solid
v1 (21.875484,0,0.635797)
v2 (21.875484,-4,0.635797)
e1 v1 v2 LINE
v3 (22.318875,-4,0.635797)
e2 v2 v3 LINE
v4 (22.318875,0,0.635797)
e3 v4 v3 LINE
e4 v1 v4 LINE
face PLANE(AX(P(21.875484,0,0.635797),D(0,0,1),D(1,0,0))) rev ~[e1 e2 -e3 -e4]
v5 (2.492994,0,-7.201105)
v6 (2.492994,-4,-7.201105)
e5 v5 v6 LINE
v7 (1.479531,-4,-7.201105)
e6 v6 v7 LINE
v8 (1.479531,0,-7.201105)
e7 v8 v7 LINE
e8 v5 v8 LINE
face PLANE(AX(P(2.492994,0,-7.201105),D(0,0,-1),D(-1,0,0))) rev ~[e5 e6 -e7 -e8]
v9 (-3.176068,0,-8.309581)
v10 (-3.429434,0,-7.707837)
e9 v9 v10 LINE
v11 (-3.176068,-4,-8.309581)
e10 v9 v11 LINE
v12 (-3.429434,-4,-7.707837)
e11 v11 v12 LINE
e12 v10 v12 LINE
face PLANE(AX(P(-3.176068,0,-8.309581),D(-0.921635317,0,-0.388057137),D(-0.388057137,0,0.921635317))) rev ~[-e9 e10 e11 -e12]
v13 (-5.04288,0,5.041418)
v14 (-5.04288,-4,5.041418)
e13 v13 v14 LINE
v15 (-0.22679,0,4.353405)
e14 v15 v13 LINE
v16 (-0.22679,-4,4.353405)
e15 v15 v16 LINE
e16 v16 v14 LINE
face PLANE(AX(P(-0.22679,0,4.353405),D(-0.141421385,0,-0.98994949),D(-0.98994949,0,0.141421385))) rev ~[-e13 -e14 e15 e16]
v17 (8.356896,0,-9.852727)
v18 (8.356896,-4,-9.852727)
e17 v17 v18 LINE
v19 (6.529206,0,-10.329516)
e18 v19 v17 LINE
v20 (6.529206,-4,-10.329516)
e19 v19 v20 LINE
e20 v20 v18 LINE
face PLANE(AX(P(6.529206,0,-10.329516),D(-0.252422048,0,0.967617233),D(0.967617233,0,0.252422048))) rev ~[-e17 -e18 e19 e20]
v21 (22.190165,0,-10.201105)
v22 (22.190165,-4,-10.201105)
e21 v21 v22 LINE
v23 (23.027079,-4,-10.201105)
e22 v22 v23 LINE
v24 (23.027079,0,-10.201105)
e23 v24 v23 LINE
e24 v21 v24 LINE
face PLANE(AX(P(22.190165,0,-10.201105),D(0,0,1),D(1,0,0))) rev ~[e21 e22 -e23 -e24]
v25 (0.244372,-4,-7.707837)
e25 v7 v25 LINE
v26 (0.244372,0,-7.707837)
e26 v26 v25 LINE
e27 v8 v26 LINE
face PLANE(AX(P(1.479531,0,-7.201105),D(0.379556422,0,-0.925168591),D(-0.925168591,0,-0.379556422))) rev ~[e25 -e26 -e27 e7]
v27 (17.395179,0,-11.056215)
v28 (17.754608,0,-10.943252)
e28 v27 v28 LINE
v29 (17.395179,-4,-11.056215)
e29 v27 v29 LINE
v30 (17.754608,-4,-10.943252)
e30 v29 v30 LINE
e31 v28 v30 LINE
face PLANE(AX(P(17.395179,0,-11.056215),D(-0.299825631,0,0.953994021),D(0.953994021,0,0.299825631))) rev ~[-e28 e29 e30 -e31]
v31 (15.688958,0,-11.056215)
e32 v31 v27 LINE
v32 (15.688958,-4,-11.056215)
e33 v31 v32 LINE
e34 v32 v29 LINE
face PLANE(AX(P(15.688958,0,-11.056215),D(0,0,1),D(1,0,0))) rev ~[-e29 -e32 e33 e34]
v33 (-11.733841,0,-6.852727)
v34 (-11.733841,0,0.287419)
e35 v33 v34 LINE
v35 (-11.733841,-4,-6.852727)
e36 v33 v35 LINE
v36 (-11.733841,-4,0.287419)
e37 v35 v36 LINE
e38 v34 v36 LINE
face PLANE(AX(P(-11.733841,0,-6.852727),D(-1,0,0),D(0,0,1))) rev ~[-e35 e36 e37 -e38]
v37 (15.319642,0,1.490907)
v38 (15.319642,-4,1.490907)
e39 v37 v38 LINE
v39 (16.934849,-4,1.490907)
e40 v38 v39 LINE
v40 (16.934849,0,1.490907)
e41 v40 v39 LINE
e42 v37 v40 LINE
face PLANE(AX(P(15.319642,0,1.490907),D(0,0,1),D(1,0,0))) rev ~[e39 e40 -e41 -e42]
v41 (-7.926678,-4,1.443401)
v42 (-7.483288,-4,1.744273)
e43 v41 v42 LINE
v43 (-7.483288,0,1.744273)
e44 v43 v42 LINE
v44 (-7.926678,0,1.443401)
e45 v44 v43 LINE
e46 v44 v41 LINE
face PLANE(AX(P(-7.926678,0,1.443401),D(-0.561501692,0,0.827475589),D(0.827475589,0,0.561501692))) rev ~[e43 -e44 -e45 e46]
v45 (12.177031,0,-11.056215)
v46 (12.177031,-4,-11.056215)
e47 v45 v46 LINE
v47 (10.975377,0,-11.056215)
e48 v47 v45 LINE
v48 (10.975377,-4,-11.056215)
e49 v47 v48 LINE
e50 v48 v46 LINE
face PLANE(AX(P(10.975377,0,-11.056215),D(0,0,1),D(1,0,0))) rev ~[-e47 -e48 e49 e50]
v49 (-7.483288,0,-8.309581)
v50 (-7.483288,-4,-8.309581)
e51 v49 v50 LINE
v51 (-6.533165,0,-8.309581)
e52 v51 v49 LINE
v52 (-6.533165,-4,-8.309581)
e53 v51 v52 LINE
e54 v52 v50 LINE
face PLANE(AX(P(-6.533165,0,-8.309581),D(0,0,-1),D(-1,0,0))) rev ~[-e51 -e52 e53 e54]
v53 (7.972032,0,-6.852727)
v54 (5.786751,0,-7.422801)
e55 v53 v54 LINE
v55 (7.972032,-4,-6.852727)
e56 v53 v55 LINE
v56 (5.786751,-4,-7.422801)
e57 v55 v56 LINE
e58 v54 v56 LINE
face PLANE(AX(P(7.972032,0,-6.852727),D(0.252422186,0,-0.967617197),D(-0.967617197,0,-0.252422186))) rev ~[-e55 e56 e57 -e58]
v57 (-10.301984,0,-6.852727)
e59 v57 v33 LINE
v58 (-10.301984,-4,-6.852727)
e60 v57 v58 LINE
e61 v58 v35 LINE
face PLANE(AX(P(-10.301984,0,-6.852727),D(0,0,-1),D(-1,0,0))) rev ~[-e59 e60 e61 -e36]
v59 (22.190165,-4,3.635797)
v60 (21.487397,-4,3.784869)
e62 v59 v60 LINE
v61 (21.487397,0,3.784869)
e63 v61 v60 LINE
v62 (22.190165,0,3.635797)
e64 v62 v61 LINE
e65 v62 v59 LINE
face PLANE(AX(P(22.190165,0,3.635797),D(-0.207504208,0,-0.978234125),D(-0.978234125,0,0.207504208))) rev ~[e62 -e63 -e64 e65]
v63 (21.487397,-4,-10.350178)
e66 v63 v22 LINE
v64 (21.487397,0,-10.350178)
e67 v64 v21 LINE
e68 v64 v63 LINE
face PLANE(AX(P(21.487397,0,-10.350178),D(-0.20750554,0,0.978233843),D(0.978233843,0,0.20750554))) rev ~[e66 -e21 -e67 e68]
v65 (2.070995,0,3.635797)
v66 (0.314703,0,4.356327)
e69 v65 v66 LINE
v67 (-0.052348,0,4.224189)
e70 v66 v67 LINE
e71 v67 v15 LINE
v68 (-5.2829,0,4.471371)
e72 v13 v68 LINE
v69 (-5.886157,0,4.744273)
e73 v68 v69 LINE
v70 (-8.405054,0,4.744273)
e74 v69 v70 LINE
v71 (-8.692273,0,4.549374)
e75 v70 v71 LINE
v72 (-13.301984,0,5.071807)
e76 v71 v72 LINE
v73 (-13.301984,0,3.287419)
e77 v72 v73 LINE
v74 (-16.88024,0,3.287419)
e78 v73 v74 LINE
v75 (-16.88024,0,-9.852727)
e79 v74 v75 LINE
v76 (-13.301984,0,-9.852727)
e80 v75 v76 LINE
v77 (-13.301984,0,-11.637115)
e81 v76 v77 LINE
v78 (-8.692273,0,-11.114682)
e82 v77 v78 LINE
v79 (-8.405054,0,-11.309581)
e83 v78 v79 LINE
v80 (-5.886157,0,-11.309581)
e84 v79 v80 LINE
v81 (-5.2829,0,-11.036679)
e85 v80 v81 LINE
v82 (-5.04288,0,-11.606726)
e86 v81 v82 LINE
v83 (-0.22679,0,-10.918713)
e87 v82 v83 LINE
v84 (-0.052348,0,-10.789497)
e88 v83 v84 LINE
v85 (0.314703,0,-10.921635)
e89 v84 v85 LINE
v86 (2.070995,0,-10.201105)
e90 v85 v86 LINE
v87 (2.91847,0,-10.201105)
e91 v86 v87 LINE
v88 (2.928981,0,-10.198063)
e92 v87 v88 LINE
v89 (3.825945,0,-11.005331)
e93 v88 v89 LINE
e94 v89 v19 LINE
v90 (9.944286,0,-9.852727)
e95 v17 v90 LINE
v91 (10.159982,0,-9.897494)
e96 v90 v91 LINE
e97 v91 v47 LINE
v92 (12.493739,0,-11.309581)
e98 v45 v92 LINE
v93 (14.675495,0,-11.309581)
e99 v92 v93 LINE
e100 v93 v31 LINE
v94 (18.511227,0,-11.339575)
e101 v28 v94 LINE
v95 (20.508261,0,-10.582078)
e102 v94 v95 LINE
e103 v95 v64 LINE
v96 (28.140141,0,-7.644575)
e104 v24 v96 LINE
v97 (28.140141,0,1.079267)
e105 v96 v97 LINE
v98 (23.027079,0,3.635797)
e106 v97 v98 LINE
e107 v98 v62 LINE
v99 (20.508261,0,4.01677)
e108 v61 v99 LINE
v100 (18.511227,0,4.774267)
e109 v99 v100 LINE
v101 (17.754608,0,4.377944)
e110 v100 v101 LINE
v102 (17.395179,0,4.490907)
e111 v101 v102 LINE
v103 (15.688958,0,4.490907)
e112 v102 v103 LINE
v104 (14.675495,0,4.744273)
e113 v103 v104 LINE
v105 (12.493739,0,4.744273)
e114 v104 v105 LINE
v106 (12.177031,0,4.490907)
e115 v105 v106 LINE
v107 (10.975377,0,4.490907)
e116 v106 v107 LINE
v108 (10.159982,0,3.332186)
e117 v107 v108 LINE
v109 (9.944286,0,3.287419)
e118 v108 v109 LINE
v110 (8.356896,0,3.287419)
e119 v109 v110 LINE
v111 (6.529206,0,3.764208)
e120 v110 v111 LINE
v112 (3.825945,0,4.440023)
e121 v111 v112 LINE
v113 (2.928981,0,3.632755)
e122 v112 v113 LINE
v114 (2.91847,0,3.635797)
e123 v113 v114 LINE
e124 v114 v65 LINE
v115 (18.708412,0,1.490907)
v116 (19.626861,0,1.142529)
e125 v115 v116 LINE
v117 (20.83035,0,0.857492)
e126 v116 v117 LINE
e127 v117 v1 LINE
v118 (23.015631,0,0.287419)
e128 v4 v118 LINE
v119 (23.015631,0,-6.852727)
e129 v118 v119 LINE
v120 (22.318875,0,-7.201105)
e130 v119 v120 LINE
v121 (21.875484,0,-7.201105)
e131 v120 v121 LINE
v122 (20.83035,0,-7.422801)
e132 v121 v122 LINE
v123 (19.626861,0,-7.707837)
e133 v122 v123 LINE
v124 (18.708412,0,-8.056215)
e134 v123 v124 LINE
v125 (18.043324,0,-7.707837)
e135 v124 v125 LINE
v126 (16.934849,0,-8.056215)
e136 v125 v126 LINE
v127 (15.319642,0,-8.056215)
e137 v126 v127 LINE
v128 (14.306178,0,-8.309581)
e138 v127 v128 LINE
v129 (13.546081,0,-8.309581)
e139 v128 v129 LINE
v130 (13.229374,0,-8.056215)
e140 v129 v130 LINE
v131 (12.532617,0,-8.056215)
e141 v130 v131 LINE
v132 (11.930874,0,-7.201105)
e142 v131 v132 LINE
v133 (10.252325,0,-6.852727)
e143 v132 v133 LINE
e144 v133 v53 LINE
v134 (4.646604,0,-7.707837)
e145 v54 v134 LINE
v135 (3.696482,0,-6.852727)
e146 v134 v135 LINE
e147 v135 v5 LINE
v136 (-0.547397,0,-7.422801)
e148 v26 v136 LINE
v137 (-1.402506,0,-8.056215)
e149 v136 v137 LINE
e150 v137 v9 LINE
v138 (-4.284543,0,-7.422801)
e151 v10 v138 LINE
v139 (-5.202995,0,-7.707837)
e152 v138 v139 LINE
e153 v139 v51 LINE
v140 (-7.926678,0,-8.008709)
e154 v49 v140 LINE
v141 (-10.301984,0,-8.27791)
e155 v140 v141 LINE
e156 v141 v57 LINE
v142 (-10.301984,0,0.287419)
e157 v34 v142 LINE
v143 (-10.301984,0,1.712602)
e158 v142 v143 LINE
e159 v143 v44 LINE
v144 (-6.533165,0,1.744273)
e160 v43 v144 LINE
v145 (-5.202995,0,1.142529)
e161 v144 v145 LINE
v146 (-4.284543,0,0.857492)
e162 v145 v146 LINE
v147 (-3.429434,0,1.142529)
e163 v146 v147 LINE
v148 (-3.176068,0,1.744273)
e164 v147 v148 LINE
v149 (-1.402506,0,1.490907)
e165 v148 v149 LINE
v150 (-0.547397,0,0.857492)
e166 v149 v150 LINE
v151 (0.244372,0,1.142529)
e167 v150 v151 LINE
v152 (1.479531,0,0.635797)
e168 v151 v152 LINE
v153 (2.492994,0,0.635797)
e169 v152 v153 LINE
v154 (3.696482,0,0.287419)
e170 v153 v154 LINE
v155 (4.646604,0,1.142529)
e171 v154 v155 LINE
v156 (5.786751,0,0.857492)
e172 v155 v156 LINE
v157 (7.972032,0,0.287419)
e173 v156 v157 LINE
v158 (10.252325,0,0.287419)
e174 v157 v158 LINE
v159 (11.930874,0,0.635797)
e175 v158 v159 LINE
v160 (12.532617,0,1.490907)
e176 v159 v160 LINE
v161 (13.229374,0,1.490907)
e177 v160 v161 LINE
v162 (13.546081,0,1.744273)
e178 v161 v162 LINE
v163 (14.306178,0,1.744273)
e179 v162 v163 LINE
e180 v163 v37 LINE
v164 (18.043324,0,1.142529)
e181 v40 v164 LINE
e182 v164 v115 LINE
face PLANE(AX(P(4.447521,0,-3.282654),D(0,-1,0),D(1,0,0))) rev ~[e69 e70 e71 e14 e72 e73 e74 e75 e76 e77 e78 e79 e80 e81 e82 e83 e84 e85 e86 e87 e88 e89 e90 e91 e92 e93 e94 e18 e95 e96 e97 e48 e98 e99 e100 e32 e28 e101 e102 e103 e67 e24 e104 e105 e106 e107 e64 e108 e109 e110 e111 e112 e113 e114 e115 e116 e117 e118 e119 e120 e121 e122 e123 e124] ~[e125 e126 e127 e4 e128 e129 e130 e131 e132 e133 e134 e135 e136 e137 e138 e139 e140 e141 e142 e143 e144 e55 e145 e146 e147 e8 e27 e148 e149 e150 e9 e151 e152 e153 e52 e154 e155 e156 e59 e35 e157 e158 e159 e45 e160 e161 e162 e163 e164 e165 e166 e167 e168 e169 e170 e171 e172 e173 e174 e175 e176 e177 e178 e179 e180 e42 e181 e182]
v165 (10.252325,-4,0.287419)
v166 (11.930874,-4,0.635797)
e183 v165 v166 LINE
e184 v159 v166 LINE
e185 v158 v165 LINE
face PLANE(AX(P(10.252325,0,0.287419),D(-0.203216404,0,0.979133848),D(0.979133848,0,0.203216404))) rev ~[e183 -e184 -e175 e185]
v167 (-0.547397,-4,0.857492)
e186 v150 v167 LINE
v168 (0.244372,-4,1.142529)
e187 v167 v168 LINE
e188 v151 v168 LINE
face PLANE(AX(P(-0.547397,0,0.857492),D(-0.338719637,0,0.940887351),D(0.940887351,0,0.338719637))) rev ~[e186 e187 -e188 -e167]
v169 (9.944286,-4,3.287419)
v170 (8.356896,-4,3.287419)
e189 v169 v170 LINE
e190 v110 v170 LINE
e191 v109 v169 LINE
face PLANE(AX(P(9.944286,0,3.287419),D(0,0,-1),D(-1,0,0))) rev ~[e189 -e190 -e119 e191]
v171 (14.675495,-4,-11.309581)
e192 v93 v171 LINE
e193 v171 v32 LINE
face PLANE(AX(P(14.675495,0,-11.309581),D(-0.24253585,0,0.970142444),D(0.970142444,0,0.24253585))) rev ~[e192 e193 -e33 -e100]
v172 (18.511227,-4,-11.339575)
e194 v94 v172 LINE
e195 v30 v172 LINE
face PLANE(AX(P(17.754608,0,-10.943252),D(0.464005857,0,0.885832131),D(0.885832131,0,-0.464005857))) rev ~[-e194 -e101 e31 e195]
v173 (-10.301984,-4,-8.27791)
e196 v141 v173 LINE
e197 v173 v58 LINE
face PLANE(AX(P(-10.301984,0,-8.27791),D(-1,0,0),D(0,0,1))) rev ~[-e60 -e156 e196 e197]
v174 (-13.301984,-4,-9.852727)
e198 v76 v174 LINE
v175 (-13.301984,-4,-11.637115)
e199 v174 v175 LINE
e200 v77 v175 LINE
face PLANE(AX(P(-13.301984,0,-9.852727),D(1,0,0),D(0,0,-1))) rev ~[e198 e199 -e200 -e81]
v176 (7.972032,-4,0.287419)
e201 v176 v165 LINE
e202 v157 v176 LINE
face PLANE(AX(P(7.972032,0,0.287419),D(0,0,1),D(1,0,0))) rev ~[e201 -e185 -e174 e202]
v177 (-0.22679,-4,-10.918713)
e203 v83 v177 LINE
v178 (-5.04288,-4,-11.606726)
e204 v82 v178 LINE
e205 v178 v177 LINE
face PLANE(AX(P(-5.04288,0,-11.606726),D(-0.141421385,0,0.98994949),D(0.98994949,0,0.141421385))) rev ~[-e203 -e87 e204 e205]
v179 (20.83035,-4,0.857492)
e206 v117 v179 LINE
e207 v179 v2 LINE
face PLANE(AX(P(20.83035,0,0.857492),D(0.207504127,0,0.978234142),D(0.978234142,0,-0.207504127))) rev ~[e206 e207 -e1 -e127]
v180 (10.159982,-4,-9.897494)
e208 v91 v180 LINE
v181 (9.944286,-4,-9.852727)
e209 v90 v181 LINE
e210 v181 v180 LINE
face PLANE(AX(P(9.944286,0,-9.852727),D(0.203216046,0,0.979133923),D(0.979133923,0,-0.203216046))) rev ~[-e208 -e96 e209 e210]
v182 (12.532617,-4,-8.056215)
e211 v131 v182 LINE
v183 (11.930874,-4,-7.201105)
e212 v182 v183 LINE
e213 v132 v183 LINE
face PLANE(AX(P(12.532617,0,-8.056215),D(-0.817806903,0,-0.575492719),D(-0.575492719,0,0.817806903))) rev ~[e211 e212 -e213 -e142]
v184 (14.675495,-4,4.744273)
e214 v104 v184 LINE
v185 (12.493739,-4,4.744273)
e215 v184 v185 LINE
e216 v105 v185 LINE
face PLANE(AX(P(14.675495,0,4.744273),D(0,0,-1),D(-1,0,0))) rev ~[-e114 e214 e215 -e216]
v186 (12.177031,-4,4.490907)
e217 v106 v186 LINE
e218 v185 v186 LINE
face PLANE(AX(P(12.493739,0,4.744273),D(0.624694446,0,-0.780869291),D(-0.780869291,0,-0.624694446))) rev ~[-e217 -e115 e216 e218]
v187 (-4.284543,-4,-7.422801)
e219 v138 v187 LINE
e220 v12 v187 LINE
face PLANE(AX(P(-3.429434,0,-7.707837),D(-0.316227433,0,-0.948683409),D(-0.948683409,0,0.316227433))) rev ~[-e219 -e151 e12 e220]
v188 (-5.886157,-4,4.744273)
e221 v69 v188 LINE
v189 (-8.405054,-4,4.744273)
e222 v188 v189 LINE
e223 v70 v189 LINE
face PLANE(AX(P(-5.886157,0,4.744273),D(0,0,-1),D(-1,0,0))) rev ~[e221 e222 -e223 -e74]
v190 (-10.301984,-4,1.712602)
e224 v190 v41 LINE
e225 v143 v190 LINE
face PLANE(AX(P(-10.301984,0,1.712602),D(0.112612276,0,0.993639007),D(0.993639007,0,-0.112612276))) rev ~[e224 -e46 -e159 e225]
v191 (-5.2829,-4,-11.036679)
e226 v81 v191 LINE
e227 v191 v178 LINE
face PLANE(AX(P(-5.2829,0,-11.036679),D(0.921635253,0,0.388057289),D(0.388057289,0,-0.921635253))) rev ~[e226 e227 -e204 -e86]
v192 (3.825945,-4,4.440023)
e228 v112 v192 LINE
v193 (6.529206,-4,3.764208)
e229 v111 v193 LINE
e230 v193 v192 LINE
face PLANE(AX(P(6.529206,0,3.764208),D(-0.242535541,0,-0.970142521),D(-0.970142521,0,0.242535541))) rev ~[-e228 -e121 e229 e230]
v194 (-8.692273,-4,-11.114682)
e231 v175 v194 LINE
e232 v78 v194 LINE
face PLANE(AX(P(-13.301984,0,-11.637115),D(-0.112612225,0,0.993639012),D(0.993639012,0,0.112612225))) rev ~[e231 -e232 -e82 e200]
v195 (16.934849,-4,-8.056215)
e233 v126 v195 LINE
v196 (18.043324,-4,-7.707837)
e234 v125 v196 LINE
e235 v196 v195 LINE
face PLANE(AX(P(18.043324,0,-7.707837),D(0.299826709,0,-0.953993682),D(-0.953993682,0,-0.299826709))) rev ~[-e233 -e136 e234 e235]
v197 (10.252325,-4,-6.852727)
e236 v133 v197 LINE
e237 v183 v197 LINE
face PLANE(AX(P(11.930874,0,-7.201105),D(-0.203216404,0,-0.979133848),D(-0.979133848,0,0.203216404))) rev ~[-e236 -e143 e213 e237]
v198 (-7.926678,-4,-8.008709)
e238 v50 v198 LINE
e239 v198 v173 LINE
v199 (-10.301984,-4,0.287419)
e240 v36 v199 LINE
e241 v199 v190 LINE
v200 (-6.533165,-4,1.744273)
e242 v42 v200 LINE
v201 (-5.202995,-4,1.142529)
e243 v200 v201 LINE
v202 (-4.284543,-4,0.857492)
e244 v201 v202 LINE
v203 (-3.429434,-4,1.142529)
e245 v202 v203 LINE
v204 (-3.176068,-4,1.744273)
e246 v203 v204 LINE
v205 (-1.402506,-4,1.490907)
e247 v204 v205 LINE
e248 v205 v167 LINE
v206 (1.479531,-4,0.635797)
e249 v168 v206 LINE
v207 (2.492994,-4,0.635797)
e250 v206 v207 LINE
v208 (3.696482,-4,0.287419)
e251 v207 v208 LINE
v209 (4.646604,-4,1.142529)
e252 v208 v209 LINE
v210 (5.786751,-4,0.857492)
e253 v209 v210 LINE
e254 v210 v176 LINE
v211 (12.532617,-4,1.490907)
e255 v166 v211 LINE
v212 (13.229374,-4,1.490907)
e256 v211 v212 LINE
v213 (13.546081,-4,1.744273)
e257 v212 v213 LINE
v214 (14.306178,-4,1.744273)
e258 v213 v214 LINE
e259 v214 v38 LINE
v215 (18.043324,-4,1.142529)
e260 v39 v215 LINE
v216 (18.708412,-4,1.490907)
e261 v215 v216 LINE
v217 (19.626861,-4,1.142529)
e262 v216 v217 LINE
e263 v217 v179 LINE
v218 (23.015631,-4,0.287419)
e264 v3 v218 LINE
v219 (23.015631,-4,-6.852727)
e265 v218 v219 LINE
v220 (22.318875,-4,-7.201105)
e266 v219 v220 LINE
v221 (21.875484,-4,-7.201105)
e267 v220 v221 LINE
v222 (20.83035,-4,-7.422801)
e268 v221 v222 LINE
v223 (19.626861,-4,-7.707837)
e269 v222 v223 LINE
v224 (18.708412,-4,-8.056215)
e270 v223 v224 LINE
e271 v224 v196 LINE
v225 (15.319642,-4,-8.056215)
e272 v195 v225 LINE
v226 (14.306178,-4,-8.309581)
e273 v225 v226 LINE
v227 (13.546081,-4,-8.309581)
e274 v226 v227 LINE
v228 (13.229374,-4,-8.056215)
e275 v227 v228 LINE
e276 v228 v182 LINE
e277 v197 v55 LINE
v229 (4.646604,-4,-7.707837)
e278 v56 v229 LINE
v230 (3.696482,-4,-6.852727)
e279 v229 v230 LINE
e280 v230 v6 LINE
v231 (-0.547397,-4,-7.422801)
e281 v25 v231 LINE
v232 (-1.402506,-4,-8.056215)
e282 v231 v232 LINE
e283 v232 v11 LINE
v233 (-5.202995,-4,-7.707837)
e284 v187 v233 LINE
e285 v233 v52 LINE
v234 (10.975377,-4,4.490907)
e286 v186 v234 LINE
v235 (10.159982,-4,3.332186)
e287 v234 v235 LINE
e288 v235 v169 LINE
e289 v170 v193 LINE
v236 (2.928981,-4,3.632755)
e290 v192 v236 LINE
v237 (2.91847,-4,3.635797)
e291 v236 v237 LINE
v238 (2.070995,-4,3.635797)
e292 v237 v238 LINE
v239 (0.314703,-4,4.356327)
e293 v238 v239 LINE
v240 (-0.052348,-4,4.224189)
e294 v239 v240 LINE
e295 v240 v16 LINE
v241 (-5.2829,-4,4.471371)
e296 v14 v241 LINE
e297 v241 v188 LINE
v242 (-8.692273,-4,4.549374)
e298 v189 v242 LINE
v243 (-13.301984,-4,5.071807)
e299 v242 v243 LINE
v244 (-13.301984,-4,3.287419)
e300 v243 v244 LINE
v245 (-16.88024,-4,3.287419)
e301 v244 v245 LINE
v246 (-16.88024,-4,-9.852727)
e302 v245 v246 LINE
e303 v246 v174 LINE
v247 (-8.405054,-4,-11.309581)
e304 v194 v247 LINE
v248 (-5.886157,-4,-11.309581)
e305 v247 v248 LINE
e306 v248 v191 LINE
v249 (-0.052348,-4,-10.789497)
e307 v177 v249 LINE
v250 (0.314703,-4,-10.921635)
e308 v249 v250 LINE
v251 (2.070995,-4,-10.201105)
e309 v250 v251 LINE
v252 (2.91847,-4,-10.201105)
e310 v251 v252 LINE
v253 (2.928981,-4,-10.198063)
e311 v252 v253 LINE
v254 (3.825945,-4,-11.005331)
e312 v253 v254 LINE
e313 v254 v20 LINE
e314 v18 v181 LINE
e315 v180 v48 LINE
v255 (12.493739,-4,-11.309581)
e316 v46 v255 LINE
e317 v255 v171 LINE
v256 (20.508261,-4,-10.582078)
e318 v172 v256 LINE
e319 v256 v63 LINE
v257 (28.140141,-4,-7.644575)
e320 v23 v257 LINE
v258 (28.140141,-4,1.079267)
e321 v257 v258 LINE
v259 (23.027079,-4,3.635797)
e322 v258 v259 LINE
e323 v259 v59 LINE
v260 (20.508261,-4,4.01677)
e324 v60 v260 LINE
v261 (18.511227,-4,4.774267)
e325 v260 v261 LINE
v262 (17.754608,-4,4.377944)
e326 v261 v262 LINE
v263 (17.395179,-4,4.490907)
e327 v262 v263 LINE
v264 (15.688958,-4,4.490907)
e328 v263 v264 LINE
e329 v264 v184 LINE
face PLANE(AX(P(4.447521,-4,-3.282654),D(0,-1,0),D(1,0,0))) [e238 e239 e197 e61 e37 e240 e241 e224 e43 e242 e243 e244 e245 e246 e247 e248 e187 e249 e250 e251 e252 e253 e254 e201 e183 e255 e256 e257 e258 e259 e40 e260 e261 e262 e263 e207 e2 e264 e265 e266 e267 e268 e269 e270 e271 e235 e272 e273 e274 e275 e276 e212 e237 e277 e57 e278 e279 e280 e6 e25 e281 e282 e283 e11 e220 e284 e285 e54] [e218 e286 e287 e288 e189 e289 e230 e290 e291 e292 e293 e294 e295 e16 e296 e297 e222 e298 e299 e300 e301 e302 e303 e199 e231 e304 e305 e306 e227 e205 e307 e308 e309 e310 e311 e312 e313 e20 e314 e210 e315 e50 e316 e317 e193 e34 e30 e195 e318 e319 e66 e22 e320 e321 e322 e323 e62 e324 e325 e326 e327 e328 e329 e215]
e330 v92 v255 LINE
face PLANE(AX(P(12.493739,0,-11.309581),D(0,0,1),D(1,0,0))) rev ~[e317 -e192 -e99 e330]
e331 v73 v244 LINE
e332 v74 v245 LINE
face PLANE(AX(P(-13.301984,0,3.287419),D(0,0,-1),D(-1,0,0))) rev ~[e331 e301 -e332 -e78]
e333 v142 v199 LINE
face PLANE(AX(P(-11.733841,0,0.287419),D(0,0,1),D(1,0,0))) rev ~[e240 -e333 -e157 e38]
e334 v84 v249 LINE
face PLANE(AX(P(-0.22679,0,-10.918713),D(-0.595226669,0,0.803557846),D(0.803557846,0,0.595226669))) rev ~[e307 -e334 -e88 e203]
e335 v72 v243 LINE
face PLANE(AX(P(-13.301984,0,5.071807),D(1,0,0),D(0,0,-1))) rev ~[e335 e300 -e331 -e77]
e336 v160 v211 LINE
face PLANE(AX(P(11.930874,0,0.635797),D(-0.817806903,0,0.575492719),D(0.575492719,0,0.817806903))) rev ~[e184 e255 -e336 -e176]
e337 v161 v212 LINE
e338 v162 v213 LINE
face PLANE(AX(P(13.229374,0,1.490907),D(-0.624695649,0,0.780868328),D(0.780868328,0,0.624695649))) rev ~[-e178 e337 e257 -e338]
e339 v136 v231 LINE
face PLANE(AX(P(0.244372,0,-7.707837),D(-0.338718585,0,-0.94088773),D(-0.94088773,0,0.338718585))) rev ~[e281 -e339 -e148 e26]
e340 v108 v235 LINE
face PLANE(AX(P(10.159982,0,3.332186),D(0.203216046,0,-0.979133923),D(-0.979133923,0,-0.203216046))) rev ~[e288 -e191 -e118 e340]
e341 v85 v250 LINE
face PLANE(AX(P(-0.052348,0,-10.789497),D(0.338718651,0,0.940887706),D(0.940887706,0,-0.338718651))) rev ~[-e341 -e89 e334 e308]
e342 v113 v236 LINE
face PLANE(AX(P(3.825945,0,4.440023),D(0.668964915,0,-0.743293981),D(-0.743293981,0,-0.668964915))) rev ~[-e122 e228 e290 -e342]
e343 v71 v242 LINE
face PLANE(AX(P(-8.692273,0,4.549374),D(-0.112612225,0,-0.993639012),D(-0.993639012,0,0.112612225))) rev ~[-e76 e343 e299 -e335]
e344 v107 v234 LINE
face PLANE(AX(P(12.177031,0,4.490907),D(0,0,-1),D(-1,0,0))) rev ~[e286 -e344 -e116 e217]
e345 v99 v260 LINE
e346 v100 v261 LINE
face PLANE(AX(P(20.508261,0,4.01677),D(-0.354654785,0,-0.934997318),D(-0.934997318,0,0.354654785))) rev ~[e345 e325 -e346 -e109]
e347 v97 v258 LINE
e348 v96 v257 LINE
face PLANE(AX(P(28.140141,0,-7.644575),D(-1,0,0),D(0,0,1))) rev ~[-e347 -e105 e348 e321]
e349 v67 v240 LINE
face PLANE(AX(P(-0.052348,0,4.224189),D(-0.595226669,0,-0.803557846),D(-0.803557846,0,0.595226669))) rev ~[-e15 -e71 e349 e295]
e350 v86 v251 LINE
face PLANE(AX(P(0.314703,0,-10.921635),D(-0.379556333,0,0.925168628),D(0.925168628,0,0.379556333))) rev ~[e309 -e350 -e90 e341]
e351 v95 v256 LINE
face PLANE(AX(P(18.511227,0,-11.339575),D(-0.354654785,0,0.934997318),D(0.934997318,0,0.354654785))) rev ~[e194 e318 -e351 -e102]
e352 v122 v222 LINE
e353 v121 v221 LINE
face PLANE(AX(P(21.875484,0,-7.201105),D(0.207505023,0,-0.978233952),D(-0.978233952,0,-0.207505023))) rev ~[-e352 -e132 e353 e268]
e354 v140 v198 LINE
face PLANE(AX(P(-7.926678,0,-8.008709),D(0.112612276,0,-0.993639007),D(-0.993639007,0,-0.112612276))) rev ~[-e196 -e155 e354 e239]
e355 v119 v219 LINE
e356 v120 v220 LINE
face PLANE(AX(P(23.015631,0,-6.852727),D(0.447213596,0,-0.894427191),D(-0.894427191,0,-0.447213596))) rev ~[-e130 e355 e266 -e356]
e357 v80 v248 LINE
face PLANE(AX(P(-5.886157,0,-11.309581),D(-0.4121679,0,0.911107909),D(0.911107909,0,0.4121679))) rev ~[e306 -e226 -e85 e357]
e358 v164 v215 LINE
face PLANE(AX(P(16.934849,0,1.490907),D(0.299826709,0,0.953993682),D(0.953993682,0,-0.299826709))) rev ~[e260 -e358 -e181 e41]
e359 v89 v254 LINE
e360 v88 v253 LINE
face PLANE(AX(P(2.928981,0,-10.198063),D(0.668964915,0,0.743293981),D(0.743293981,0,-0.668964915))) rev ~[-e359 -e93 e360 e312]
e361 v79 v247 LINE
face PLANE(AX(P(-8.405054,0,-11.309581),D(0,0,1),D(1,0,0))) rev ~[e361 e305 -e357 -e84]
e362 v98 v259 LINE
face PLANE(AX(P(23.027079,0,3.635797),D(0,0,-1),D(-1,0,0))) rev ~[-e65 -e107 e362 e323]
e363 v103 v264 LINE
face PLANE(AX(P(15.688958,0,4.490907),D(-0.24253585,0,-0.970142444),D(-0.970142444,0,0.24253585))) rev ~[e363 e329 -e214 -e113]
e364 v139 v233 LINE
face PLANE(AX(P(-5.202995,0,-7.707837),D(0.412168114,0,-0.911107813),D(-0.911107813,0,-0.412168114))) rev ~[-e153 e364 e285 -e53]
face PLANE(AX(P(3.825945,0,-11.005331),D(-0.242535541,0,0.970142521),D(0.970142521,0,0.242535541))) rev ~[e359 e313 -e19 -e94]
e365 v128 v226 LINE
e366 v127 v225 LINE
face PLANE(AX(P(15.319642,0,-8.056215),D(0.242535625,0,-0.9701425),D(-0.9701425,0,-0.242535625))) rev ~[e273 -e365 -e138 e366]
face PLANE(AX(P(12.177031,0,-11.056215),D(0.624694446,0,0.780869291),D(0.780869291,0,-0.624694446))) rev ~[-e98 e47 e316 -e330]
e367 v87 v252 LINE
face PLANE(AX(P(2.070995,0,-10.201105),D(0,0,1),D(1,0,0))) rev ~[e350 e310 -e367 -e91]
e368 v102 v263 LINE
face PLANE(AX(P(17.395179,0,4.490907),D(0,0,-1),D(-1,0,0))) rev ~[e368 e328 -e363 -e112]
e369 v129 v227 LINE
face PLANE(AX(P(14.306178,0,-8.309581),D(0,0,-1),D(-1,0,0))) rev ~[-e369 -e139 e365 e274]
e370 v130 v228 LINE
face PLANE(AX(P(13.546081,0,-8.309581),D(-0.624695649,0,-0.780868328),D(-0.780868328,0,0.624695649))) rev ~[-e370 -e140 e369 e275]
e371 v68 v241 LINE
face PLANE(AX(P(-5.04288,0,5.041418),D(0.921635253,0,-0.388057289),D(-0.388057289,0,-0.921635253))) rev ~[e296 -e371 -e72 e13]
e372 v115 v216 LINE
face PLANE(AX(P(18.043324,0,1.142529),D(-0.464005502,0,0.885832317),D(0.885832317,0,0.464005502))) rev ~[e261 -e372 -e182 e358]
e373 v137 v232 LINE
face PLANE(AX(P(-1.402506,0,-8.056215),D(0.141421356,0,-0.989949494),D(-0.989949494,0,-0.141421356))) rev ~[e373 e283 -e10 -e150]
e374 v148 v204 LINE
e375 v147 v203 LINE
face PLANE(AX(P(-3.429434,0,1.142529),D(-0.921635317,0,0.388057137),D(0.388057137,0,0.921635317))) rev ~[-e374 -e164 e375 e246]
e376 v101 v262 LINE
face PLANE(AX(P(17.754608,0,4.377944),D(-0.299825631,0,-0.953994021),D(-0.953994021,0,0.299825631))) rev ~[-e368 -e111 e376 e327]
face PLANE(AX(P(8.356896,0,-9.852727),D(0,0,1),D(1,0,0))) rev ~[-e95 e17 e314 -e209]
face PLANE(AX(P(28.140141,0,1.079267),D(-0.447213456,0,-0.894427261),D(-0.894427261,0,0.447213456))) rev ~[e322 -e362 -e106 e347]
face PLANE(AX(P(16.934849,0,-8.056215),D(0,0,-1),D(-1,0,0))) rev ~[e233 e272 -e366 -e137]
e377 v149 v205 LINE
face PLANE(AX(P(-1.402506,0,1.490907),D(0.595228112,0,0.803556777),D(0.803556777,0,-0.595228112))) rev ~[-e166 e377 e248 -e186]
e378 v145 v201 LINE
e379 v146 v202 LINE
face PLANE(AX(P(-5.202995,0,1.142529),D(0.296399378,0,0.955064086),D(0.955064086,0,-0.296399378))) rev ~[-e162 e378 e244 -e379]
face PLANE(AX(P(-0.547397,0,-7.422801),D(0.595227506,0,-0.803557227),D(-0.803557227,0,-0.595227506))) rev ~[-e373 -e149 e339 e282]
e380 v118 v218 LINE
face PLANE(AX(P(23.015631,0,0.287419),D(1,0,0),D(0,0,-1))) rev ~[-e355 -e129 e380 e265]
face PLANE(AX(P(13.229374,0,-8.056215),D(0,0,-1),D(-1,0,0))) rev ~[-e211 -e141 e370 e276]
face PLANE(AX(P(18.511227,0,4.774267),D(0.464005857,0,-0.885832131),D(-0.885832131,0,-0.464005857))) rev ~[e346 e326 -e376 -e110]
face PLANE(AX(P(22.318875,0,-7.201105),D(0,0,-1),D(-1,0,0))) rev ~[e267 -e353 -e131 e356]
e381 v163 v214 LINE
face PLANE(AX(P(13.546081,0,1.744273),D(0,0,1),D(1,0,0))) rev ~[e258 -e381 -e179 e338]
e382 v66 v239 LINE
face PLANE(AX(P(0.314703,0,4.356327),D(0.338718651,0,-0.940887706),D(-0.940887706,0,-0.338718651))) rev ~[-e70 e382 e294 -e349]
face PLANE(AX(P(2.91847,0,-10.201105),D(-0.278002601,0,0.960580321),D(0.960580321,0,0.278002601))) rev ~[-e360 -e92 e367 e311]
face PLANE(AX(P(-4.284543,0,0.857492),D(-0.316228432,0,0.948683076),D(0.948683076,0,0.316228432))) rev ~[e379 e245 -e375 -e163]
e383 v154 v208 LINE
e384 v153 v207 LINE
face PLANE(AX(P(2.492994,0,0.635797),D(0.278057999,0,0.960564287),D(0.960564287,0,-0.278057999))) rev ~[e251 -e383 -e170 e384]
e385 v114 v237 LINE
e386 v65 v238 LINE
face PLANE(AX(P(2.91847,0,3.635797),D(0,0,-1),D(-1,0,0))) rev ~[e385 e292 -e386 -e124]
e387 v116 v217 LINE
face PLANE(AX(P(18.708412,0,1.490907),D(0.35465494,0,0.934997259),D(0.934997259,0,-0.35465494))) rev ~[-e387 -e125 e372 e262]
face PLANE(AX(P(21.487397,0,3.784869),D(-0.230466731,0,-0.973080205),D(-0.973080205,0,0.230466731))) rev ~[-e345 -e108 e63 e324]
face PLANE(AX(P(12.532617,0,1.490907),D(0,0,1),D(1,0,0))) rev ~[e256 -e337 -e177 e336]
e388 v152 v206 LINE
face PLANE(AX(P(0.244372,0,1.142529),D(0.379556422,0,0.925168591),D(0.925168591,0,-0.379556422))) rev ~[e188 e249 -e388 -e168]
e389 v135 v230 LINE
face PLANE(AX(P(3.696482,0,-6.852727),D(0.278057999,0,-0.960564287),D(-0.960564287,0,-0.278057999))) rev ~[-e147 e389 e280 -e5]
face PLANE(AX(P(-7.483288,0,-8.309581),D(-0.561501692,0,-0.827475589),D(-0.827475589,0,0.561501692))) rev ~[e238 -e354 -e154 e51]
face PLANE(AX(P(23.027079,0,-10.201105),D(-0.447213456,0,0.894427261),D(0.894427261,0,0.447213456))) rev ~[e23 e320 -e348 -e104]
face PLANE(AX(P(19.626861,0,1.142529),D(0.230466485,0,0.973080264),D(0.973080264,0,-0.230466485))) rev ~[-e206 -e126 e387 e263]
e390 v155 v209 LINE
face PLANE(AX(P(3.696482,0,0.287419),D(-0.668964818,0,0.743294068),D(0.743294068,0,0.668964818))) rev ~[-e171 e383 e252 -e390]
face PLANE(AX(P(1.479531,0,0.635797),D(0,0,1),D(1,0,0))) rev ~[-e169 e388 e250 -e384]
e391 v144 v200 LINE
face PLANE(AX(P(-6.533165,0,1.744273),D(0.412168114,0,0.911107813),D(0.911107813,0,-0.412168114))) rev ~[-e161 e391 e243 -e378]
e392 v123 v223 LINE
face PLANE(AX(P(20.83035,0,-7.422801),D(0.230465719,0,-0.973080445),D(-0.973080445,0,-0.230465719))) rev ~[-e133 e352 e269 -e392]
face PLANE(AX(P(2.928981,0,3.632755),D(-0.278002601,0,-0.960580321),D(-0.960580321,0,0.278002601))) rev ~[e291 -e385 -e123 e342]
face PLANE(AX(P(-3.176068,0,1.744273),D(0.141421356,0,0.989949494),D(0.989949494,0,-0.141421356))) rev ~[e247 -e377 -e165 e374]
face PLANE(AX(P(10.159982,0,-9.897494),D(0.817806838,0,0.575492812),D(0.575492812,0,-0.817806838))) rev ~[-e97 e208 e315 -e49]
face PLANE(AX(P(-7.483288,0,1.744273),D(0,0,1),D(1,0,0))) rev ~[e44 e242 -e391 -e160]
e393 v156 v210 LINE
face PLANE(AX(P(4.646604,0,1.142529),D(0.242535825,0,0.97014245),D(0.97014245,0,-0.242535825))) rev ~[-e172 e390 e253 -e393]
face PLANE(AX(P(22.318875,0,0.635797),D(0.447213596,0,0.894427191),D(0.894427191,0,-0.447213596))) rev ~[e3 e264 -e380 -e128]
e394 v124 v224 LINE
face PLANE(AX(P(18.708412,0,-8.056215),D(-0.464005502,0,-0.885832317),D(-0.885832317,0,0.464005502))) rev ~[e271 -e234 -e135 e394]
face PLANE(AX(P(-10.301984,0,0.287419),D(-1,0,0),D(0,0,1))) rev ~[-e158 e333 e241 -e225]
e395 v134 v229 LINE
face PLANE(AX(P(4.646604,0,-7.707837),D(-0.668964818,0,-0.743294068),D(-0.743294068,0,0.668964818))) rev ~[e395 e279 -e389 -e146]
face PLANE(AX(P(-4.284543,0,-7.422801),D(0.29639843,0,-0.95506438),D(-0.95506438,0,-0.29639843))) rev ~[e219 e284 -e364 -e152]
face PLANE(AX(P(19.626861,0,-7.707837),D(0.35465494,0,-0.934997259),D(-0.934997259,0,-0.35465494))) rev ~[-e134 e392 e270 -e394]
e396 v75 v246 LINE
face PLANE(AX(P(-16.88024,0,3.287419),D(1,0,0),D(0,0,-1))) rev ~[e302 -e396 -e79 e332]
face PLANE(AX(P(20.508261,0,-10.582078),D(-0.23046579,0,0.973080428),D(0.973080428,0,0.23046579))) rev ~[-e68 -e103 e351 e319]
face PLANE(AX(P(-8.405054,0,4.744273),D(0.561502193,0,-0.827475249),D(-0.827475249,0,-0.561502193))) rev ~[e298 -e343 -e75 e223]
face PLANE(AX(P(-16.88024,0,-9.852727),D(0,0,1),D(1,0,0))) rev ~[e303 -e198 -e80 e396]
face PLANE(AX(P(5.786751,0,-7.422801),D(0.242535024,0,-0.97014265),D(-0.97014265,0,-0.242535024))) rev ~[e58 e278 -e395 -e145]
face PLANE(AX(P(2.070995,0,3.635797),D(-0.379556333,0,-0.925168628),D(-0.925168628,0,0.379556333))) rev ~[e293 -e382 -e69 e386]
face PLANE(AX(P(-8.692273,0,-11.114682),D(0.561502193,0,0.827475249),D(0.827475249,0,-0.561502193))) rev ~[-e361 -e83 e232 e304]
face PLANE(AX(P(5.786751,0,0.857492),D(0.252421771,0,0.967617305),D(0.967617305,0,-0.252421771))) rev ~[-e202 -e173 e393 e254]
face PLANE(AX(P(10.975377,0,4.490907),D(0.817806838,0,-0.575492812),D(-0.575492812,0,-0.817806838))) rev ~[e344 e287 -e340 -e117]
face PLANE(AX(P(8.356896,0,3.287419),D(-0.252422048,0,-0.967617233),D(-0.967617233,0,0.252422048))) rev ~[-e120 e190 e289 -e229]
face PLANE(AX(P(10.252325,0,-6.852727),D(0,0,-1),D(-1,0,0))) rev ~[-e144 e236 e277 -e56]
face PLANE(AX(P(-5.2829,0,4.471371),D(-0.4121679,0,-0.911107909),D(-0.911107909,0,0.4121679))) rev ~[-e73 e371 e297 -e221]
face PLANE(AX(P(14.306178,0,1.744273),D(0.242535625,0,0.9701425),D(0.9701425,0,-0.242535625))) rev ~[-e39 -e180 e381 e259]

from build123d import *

# Parameters (mm, degrees)
F1_DEPTH = 4


with BuildPart() as f1:
    # F0 (on Front) → F1 (new body)
    with BuildSketch(Plane.XZ):
        Polygon((28.140141, 1.079267), (23.027079, 3.635797), (22.190165, 3.635797), (21.487397, 3.784869), (20.508261, 4.01677), (18.511227, 4.774267), (17.754608, 4.377944), (17.395179, 4.490907), (15.688958, 4.490907), (14.675495, 4.744273), (12.493739, 4.744273), (12.177031, 4.490907), (10.975377, 4.490907), (10.159982, 3.332186), (9.944286, 3.287419), (9.713922, 3.287419), (8.356896, 3.287419), (6.529206, 3.764208), (3.825945, 4.440023), (2.928981, 3.632755), (2.91847, 3.635797), (2.070995, 3.635797), (0.314703, 4.356327), (-0.052348, 4.224189), (-0.22679, 4.353405), (-5.04288, 5.041418), (-5.2829, 4.471371), (-5.886157, 4.744273), (-8.405054, 4.744273), (-8.692273, 4.549374), (-13.301984, 5.071807), (-13.301984, 3.287419), (-16.88024, 3.287419), (-16.88024, -0.282654), (-16.88024, -6.282654), (-16.88024, -9.852727), (-13.301984, -9.852727), (-13.301984, -11.637115), (-8.692273, -11.114682), (-8.405054, -11.309581), (-5.886157, -11.309581), (-5.2829, -11.036679), (-5.04288, -11.606726), (-0.22679, -10.918713), (-0.052348, -10.789497), (0.314703, -10.921635), (2.070995, -10.201105), (2.91847, -10.201105), (2.928981, -10.198063), (3.825945, -11.005331), (6.529206, -10.329516), (8.356896, -9.852727), (9.713922, -9.852727), (9.944286, -9.852727), (10.159982, -9.897494), (10.975377, -11.056215), (12.177031, -11.056215), (12.493739, -11.309581), (14.675495, -11.309581), (15.688958, -11.056215), (17.395179, -11.056215), (17.754608, -10.943252), (18.511227, -11.339575), (20.508261, -10.582078), (21.487397, -10.350178), (22.190165, -10.201105), (23.027079, -10.201105), (28.140141, -7.644575), align=None)
        Polygon((-11.733841, -6.852727), (-11.733841, 0.287419), (-10.301984, 0.287419), (-10.301984, 1.712602), (-7.926678, 1.443401), (-7.483288, 1.744273), (-6.533165, 1.744273), (-5.202995, 1.142529), (-4.284543, 0.857492), (-3.429434, 1.142529), (-3.176068, 1.744273), (-1.402506, 1.490907), (-0.547397, 0.857492), (0.244372, 1.142529), (1.479531, 0.635797), (2.492994, 0.635797), (3.696482, 0.287419), (4.646604, 1.142529), (5.786751, 0.857492), (7.972032, 0.287419), (9.713922, 0.287419), (10.252325, 0.287419), (11.930874, 0.635797), (12.532617, 1.490907), (13.229374, 1.490907), (13.546081, 1.744273), (14.306178, 1.744273), (15.319642, 1.490907), (16.934849, 1.490907), (18.043324, 1.142529), (18.708412, 1.490907), (19.626861, 1.142529), (20.83035, 0.857492), (21.875484, 0.635797), (22.318875, 0.635797), (23.015631, 0.287419), (23.015631, -6.852727), (22.318875, -7.201105), (21.875484, -7.201105), (20.83035, -7.422801), (19.626861, -7.707837), (18.708412, -8.056215), (18.043324, -7.707837), (16.934849, -8.056215), (15.319642, -8.056215), (14.306178, -8.309581), (13.546081, -8.309581), (13.229374, -8.056215), (12.532617, -8.056215), (11.930874, -7.201105), (10.252325, -6.852727), (9.713922, -6.852727), (7.972032, -6.852727), (5.786751, -7.422801), (4.646604, -7.707837), (3.696482, -6.852727), (2.492994, -7.201105), (1.479531, -7.201105), (0.244372, -7.707837), (-0.547397, -7.422801), (-1.402506, -8.056215), (-3.176068, -8.309581), (-3.429434, -7.707837), (-4.284543, -7.422801), (-5.202995, -7.707837), (-6.533165, -8.309581), (-7.483288, -8.309581), (-7.926678, -8.008709), (-10.301984, -8.27791), (-10.301984, -6.852727), align=None, mode=Mode.SUBTRACT)
    extrude(amount=F1_DEPTH)


solid = f1.part
